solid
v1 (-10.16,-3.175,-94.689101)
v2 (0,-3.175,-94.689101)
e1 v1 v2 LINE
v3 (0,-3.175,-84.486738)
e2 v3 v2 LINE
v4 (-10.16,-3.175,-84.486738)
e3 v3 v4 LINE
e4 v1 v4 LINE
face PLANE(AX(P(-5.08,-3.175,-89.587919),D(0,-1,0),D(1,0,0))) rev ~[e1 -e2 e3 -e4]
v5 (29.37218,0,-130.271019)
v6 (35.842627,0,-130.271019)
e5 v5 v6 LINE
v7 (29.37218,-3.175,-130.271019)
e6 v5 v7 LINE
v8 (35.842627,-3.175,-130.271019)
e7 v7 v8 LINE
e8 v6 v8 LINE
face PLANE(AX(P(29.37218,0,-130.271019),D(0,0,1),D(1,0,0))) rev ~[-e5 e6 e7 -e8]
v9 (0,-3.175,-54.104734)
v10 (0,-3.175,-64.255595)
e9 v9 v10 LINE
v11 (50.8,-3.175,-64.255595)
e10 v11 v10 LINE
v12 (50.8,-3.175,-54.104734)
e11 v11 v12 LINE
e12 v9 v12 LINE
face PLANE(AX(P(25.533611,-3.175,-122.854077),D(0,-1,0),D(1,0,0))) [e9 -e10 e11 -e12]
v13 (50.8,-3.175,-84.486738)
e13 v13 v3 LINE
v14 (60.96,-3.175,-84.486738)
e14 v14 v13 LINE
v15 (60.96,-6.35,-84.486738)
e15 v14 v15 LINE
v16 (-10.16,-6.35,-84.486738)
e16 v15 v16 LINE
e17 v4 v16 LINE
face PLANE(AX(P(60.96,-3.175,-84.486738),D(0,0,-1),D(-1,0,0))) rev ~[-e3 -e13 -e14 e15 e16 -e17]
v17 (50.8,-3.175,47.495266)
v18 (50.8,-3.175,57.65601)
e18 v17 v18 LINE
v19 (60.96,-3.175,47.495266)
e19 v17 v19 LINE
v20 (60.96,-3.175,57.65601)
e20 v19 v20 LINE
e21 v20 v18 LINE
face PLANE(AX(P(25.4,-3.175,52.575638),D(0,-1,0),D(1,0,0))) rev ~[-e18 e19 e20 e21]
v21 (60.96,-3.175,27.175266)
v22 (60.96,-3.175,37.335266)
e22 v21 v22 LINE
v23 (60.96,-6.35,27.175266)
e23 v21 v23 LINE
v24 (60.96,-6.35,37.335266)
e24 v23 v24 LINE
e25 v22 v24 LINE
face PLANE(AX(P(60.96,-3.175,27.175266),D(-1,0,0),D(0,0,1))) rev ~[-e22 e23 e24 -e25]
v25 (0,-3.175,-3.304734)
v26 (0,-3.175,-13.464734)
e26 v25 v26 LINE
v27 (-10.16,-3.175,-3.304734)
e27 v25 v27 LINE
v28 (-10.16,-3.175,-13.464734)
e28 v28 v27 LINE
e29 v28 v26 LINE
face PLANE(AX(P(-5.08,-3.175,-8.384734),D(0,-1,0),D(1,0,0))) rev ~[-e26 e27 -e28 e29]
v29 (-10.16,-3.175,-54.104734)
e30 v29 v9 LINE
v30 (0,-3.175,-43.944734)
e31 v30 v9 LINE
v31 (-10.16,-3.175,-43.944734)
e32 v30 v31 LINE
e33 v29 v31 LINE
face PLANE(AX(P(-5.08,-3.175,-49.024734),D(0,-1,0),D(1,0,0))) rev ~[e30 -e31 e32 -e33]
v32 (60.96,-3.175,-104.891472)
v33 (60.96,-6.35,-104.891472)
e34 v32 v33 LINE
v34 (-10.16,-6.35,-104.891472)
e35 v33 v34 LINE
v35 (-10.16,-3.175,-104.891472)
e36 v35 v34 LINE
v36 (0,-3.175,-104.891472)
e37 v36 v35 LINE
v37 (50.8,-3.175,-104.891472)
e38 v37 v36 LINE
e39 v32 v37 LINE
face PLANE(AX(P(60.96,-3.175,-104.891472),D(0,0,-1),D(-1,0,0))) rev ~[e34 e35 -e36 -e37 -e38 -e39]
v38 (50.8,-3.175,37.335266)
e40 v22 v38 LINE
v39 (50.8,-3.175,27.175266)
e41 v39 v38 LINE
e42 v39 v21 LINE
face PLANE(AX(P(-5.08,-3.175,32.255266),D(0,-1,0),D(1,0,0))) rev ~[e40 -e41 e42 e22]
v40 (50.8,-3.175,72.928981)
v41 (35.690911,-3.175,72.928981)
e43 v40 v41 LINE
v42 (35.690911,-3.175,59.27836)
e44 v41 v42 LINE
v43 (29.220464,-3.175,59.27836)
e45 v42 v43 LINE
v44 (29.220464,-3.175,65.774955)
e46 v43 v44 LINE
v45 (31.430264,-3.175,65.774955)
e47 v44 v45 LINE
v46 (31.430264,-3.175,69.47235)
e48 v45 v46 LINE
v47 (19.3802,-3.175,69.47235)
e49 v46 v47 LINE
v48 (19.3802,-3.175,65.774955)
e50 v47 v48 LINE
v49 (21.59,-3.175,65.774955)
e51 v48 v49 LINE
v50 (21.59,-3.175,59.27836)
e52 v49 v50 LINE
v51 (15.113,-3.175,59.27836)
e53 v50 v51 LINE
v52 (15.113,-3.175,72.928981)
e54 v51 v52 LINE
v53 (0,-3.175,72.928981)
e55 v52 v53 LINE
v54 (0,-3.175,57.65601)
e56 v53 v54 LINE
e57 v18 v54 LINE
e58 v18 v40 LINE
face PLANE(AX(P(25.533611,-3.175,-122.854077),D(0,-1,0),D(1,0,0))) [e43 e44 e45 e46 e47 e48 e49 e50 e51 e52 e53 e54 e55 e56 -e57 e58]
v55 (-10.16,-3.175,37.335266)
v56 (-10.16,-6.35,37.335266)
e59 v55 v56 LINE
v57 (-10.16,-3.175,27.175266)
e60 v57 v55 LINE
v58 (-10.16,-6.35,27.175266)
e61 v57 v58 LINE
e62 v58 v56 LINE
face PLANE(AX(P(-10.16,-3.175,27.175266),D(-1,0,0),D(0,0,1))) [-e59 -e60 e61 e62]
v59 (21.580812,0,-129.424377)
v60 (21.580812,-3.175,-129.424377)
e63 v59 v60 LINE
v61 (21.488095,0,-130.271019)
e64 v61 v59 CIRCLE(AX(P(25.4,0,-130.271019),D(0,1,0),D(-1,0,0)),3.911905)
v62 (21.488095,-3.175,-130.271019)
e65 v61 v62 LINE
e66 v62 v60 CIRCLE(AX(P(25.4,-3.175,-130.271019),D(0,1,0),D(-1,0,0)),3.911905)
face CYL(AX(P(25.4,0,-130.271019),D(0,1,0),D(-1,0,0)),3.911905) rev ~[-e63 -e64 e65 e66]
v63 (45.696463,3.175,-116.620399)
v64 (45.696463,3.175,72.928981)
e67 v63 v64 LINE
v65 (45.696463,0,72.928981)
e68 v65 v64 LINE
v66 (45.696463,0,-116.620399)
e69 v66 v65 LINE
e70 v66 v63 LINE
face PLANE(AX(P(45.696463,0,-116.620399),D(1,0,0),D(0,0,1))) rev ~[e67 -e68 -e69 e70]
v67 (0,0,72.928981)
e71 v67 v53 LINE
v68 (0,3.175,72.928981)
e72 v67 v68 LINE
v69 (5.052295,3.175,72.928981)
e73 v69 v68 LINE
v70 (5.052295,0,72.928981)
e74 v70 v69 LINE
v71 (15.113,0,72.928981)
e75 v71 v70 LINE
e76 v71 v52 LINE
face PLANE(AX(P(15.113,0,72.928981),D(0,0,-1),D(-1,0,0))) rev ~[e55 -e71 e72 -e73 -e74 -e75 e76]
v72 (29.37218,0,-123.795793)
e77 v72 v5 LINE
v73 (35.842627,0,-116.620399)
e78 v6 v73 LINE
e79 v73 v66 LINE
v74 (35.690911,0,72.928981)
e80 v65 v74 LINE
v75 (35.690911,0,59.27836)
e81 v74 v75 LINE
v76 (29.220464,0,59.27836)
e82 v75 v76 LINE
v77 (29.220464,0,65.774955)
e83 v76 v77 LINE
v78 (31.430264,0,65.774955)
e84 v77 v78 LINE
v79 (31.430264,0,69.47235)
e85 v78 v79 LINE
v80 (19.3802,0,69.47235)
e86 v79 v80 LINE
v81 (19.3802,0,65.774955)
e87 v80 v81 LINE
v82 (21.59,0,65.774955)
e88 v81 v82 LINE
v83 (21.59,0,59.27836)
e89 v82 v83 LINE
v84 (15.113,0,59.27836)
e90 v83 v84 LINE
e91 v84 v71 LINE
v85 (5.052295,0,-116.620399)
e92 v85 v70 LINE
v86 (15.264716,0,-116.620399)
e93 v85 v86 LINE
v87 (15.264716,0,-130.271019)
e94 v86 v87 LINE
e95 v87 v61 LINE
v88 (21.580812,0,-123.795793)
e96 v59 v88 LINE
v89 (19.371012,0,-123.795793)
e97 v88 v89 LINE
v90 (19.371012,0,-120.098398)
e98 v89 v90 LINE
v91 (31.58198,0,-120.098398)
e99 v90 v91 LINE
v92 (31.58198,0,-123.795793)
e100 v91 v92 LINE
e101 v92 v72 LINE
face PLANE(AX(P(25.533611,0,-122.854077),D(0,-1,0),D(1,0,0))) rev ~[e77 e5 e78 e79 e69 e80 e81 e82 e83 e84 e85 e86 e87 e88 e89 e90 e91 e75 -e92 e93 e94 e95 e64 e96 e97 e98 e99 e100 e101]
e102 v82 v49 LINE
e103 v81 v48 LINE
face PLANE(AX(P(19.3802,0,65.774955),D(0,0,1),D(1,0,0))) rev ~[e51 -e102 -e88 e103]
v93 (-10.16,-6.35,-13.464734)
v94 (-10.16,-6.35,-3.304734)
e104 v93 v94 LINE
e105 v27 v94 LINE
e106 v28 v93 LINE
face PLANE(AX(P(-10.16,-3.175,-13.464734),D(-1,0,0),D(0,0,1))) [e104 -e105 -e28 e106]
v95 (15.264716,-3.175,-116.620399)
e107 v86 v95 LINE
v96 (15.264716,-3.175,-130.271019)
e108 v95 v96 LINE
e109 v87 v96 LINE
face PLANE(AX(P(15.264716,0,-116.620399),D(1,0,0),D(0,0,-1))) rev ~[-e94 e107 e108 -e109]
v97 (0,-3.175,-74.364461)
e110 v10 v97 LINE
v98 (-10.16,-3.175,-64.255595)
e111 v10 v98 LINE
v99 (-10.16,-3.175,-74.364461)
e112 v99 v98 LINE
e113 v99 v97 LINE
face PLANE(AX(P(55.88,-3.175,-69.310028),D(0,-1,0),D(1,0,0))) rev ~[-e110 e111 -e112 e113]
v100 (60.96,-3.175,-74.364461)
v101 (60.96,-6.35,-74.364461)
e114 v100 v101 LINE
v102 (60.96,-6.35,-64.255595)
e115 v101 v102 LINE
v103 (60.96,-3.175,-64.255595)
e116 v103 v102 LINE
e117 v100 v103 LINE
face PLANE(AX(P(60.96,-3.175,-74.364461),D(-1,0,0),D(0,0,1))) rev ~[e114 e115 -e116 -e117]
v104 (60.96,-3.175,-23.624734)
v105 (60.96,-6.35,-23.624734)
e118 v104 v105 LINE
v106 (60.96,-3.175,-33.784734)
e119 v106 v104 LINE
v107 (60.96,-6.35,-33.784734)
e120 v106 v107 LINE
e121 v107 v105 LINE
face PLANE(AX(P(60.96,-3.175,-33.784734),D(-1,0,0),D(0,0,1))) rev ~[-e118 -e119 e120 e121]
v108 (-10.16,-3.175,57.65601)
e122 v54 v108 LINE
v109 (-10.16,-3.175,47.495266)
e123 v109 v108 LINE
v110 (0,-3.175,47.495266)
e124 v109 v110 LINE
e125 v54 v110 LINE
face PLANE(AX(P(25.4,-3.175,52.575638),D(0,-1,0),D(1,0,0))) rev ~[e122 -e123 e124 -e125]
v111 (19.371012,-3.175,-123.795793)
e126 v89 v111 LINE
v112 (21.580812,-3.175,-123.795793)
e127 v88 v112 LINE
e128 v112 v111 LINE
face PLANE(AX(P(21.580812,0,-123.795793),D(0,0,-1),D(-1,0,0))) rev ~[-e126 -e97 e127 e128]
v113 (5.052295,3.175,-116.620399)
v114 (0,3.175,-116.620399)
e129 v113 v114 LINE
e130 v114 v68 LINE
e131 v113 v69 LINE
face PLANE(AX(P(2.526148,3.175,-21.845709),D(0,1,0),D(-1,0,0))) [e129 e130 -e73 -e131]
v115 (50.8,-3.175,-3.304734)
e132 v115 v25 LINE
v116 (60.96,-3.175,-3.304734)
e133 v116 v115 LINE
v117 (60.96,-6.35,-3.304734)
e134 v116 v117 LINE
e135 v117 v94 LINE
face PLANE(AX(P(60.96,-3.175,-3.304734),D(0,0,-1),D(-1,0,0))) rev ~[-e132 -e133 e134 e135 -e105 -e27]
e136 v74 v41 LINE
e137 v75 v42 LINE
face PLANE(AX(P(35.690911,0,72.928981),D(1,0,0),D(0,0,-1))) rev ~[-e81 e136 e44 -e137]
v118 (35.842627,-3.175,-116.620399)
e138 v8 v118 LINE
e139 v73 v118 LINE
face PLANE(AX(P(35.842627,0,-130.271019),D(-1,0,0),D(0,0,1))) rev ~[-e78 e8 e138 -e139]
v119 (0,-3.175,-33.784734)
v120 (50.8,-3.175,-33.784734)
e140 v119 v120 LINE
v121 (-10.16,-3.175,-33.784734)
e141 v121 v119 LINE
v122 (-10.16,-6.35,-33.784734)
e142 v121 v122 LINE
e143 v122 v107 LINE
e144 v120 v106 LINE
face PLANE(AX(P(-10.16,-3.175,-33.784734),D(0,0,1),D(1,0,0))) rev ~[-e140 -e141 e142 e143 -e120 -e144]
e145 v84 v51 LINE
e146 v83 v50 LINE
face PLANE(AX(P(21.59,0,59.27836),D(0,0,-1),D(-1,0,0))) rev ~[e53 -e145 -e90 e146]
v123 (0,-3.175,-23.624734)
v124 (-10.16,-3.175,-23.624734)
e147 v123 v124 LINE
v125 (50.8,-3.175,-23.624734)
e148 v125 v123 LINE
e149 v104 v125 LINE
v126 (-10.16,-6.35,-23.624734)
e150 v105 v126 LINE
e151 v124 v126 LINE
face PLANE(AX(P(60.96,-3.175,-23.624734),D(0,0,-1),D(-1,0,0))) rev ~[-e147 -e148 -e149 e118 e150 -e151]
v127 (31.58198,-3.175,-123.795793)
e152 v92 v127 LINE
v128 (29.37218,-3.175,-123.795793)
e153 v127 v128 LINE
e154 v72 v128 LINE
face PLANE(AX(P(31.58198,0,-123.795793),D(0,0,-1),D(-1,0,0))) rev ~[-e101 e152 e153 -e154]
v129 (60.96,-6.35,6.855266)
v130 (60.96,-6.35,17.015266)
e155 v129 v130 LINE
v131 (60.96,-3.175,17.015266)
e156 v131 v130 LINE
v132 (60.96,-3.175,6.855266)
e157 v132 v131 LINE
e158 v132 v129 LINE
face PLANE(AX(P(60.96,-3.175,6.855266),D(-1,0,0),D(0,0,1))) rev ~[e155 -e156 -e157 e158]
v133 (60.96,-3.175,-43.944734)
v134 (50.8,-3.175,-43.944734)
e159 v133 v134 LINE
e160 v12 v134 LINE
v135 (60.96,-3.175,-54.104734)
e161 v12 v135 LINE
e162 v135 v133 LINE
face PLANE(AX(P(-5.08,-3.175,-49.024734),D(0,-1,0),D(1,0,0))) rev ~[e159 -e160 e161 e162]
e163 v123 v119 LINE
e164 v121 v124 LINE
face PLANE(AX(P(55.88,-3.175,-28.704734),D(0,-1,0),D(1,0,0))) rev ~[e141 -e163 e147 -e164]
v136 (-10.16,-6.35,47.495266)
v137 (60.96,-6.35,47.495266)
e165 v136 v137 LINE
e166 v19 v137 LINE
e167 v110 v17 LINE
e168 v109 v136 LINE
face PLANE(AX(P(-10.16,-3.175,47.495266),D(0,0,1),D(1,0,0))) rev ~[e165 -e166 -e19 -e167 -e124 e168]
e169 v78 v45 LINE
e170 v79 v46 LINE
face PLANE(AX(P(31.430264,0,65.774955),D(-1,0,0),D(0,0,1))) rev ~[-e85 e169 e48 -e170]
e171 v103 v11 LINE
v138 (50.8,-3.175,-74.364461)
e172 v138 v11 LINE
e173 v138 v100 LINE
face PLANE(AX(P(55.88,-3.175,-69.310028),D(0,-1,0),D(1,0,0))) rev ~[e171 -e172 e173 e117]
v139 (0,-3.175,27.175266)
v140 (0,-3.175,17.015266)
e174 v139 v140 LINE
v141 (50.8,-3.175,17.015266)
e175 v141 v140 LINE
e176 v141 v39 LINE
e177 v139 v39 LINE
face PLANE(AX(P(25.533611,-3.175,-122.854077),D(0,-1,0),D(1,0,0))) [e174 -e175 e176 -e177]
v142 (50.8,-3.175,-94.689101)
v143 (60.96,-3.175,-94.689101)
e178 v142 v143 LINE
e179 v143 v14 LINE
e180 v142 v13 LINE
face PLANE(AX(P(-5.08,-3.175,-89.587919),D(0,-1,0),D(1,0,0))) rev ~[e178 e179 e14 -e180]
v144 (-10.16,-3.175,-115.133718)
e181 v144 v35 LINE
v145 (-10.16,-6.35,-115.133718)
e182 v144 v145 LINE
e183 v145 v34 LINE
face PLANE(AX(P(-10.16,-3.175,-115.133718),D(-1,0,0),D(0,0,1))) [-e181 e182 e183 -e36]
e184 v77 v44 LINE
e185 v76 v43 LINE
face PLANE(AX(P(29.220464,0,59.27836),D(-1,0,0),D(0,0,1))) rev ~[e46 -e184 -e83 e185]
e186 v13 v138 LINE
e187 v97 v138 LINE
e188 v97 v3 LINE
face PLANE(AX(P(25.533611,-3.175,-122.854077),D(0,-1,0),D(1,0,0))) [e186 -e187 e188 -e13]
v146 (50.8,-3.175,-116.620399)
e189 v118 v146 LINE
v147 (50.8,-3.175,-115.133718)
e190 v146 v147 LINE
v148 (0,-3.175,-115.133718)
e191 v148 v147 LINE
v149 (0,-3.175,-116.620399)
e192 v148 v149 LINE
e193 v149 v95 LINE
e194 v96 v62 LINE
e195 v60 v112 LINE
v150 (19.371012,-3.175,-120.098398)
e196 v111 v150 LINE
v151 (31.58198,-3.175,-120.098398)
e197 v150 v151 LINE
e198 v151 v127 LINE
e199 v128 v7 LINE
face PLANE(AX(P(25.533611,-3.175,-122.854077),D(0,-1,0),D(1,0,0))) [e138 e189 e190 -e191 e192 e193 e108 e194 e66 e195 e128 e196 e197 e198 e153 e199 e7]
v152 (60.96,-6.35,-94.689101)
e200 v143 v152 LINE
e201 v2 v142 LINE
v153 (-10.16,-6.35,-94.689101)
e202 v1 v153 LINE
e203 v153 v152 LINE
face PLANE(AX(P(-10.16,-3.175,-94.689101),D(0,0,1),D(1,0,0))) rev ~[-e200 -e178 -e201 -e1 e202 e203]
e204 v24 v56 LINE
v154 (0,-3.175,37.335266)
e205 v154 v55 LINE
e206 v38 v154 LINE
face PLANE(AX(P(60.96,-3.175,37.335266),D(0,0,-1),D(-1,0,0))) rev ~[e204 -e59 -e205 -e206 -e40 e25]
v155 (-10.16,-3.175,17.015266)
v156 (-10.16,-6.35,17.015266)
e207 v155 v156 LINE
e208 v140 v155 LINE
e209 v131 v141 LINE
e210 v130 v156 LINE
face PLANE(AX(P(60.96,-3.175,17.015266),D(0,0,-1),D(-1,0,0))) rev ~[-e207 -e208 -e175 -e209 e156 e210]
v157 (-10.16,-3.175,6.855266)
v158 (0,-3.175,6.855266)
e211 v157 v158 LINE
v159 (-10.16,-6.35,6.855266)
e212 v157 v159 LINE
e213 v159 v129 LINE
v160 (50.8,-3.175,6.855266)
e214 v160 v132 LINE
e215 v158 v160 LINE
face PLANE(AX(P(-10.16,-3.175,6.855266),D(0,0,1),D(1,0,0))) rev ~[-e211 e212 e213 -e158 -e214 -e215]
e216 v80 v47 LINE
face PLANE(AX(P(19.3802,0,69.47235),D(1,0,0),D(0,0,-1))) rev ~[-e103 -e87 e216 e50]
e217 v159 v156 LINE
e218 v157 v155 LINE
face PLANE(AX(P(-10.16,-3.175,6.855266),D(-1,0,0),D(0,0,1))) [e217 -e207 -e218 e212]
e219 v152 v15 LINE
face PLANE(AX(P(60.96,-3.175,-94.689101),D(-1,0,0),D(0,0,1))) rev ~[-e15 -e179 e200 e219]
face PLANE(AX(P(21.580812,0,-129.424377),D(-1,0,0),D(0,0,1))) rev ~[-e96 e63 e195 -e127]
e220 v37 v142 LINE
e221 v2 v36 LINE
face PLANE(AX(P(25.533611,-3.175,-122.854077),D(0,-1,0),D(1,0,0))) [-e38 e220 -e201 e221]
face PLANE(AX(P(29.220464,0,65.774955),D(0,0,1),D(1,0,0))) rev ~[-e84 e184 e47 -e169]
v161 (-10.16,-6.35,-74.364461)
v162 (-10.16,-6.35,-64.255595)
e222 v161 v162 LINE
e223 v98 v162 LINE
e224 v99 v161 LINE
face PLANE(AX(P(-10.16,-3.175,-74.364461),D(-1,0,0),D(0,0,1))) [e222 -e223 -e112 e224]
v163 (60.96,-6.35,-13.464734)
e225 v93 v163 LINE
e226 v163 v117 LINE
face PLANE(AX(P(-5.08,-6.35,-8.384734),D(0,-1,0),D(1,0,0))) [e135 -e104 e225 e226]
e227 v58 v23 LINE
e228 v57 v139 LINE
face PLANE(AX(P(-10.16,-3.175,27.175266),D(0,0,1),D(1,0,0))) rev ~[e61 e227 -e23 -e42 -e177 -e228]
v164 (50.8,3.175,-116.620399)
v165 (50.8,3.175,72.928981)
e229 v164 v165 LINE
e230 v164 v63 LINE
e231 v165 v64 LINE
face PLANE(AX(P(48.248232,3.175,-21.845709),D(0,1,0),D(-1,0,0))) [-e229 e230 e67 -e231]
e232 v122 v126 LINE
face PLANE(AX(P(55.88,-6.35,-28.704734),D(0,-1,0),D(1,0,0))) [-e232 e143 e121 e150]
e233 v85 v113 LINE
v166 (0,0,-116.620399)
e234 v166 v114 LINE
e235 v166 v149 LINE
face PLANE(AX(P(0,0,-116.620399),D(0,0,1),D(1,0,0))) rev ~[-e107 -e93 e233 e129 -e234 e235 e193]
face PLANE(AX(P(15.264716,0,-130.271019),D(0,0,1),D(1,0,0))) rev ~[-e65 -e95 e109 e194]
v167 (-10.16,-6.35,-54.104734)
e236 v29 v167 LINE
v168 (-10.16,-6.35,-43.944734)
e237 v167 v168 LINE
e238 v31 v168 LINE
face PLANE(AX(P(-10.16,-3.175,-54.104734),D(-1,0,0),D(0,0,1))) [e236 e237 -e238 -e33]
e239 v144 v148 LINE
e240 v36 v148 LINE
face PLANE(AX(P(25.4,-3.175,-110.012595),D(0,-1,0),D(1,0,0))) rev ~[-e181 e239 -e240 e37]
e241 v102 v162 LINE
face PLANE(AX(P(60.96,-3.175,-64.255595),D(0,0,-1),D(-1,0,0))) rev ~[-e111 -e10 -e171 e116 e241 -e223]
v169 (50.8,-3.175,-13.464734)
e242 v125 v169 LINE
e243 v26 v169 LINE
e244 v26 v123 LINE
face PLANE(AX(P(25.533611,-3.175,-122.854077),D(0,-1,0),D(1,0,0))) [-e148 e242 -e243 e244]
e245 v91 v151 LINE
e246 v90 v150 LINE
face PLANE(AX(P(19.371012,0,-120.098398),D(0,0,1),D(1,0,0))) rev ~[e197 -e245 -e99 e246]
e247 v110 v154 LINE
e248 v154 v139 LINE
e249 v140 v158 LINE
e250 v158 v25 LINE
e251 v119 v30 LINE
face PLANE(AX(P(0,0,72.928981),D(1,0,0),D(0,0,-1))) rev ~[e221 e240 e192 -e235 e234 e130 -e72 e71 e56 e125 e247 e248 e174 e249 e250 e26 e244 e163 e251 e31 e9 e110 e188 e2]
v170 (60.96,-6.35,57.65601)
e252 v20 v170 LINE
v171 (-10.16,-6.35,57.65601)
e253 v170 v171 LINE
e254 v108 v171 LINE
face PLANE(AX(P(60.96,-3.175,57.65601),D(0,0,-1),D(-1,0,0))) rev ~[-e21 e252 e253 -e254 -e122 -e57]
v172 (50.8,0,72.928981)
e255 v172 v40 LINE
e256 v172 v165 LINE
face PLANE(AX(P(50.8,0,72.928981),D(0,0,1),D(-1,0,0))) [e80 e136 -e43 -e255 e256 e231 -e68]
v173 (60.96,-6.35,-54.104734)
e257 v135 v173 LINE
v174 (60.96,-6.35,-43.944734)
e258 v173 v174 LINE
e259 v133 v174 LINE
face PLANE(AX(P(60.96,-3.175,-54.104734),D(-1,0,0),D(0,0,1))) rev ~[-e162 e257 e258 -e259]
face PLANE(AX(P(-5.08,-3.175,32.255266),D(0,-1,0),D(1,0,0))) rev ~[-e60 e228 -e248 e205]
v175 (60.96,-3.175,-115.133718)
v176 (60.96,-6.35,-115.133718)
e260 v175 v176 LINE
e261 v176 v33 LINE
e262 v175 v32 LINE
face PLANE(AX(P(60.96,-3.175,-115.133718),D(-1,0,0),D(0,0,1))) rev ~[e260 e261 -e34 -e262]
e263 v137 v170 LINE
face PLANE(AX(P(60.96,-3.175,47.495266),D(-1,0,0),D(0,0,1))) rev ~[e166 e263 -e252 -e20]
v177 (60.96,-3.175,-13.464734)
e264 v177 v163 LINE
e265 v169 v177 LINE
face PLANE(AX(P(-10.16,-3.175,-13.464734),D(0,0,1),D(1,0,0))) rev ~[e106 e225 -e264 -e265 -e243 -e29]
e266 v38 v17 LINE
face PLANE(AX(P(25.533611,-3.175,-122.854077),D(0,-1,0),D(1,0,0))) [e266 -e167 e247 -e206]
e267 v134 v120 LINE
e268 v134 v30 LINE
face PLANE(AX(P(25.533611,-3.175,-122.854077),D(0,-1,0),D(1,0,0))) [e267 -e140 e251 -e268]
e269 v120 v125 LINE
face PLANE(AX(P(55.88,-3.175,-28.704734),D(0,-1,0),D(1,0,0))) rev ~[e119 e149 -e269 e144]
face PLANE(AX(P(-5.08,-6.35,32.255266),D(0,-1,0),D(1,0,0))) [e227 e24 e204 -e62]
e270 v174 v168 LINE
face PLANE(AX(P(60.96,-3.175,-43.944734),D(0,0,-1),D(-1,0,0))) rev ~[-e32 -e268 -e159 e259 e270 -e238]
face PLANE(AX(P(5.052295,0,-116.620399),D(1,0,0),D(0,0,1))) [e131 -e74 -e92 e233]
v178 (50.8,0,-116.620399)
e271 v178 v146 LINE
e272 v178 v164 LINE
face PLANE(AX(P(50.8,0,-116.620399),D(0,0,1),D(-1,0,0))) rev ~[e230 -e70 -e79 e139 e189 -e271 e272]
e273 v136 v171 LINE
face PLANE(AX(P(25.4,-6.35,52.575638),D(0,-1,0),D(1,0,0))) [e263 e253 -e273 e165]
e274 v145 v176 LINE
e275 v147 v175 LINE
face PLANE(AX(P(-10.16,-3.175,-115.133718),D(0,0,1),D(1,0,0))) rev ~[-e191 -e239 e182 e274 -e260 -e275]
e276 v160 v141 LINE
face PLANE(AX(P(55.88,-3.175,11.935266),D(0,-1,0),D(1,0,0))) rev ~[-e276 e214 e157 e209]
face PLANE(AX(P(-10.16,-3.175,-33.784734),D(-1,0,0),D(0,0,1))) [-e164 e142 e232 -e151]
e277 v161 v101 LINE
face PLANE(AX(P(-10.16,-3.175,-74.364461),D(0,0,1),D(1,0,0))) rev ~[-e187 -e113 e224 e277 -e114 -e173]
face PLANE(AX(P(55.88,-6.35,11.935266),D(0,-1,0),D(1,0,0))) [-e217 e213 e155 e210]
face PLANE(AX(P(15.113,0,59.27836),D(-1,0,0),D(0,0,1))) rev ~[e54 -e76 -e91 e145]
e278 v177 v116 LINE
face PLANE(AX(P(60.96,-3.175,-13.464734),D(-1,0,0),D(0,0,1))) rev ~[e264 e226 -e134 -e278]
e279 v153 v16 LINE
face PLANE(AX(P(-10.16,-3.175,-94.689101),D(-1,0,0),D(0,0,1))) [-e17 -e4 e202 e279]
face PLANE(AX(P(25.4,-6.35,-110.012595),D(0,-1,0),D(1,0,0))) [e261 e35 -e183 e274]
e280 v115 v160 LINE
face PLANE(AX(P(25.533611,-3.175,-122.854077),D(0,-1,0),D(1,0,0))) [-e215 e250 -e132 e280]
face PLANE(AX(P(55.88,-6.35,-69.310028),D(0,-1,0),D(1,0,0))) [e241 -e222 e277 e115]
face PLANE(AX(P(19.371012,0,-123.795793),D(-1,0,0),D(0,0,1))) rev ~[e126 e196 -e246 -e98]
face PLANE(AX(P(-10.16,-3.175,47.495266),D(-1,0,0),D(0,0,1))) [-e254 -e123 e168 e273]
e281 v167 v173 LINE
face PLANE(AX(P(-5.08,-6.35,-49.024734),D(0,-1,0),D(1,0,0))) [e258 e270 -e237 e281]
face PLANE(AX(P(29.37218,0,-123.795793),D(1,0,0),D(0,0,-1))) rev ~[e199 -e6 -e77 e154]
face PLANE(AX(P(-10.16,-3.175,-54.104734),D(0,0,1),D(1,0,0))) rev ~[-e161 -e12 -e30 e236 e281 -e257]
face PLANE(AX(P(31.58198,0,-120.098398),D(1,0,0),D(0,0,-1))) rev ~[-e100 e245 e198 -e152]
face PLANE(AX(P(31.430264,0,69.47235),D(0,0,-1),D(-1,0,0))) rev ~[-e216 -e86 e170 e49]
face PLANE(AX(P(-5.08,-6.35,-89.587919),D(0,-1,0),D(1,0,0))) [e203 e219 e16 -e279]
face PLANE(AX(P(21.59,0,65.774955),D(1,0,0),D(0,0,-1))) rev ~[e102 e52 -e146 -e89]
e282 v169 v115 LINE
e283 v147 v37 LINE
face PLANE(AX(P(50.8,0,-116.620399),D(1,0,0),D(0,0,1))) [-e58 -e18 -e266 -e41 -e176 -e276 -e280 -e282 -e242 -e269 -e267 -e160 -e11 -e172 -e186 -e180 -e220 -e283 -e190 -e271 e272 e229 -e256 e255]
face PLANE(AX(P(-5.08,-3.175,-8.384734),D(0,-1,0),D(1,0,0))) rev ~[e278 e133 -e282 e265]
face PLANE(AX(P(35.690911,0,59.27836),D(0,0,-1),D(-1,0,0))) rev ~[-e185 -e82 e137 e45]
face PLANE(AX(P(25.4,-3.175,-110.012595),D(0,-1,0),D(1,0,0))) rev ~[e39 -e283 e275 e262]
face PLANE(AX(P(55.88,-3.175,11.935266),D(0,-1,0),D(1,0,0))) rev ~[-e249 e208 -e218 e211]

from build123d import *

# Parameters (mm, degrees)
F1_DEPTH = 3.175
F2_W     = 50.8
F2_H     = 10.1607441902
F2_W_2   = 10.16
F2_H_2   = 10.16
F2_H_3   = 10.1088657975
F2_H_4   = 10.2023631334
F3_DEPTH = 3.175
F2_H_5   = 10.2422460914
F4_DEPTH = 3.175
F5_W     = 5.1035365641
F5_H     = 189.5493796663
F5_W_2   = 5.0522950478
F6_DEPTH = 3.175


with BuildPart() as f1:
    # F0 (on Front) → F1 (new body)
    with BuildSketch(Plane.XZ):
        with BuildLine():
            Line((25.5517161727, -116.6203990579), (15.2647161727, -116.6203990579))
            Line((15.2647161727, -116.6203990579), (15.2647161727, -130.2710193916))
            Line((15.2647161727, -130.2710193916), (21.4880950641, -130.2710193916))
            ThreePointArc((21.4880950641, -130.2710193916), (21.5113434052, -129.8451671692), (21.5808121, -129.4243766025))
            Line((21.5808121, -129.4243766025), (21.5808121, -123.7957928851))
            Line((21.5808121, -123.7957928851), (19.3710121, -123.7957928851))
            Line((19.3710121, -123.7957928851), (19.3710121, -120.0983975604))
            Line((19.3710121, -120.0983975604), (31.5819798807, -120.0983975604))
            Line((31.5819798807, -120.0983975604), (31.5819798807, -123.7957928851))
            Line((31.5819798807, -123.7957928851), (29.3721798807, -123.7957928851))
            Line((29.3721798807, -123.7957928851), (29.3721798807, -130.2710193916))
            Line((29.3721798807, -130.2710193916), (35.8426272869, -130.2710193916))
            Line((35.8426272869, -130.2710193916), (35.8426272869, -116.6203990579))
            Line((35.8426272869, -116.6203990579), (25.5517161727, -116.6203990579))
        make_face()
        Polygon((15.113, 72.9289806084), (0, 72.9289806084), (0, -116.6203990579), (15.2647161727, -116.6203990579), (25.5517161727, -116.6203990579), (35.8426272869, -116.6203990579), (50.8, -116.6203990579), (50.8, 72.9289806084), (35.6909111142, 72.9289806084), (35.6909111142, 59.2783602747), (29.220463708, 59.2783602747), (29.220463708, 65.7749548554), (31.430263708, 65.7749548554), (31.430263708, 69.4723501801), (19.3802, 69.4723501801), (19.3802, 65.7749548554), (21.59, 65.7749548554), (21.59, 59.2783602747), (15.113, 59.2783602747), align=None)
    extrude(amount=F1_DEPTH)

    # F2 (on face) → F3 (join)
    with BuildSketch(Plane.XZ.offset(3.175)):
        with Locations((25.4, 52.5756378829)):
            Rectangle(F2_W, F2_H)
        with Locations((55.88, 52.5756378829)):
            Rectangle(F2_W_2, F2_H)
        with Locations((-5.08, 52.5756378829)):
            Rectangle(F2_W_2, F2_H)
        with Locations((-5.08, 32.2552657878)):
            Rectangle(F2_W_2, F2_H_2)
        with Locations((25.4, 32.2552657878)):
            Rectangle(F2_W, F2_H_2)
        with Locations((55.88, 32.2552657878)):
            Rectangle(F2_W_2, F2_H_2)
        with Locations((55.88, 11.9352657878)):
            Rectangle(F2_W_2, F2_H_2)
        with Locations((25.4, 11.9352657878)):
            Rectangle(F2_W, F2_H_2)
        with Locations((-5.08, 11.9352657878)):
            Rectangle(F2_W_2, F2_H_2)
        with Locations((-5.08, -8.3847342122)):
            Rectangle(F2_W_2, F2_H_2)
        with Locations((25.4, -8.3847342122)):
            Rectangle(F2_W, F2_H_2)
        with Locations((55.88, -8.3847342122)):
            Rectangle(F2_W_2, F2_H_2)
        with Locations((55.88, -28.7047342122)):
            Rectangle(F2_W_2, F2_H_2)
        with Locations((25.4, -28.7047342122)):
            Rectangle(F2_W, F2_H_2)
        with Locations((-5.08, -28.7047342122)):
            Rectangle(F2_W_2, F2_H_2)
        with Locations((-5.08, -49.0247342122)):
            Rectangle(F2_W_2, F2_H_2)
        with Locations((25.4, -49.0247342122)):
            Rectangle(F2_W, F2_H_2)
        with Locations((55.88, -49.0247342122)):
            Rectangle(F2_W_2, F2_H_2)
        with Locations((55.88, -69.310028106)):
            Rectangle(F2_W_2, F2_H_3)
        with Locations((25.4, -69.310028106)):
            Rectangle(F2_W, F2_H_3)
        with Locations((-5.08, -69.310028106)):
            Rectangle(F2_W_2, F2_H_3)
        with Locations((-5.08, -89.587919414)):
            Rectangle(F2_W_2, F2_H_4)
        with Locations((25.4, -89.587919414)):
            Rectangle(F2_W, F2_H_4)
        with Locations((55.88, -89.587919414)):
            Rectangle(F2_W_2, F2_H_4)
    extrude(amount=F3_DEPTH)

    # F2 (on face) → F4 (join)
    with BuildSketch(Plane.XZ.offset(3.175)):
        with Locations((25.4, -110.0125946105)):
            Rectangle(F2_W, F2_H_5)
        with Locations((55.88, -110.0125946105)):
            Rectangle(F2_W_2, F2_H_5)
        with Locations((-5.08, -110.0125946105)):
            Rectangle(F2_W_2, F2_H_5)
    extrude(amount=F4_DEPTH)

    # F5 (on face) → F6 (join)
    with BuildSketch(Plane(origin=(0, 0, 0), x_dir=(-1, 0, 0), z_dir=(0, 1, 0))):
        with Locations((-48.2482317179, -21.8457092247)):
            Rectangle(F5_W, F5_H)
        with Locations((-2.5261475239, -21.8457092247)):
            Rectangle(F5_W_2, F5_H)
    extrude(amount=F6_DEPTH)


solid = f1.part
